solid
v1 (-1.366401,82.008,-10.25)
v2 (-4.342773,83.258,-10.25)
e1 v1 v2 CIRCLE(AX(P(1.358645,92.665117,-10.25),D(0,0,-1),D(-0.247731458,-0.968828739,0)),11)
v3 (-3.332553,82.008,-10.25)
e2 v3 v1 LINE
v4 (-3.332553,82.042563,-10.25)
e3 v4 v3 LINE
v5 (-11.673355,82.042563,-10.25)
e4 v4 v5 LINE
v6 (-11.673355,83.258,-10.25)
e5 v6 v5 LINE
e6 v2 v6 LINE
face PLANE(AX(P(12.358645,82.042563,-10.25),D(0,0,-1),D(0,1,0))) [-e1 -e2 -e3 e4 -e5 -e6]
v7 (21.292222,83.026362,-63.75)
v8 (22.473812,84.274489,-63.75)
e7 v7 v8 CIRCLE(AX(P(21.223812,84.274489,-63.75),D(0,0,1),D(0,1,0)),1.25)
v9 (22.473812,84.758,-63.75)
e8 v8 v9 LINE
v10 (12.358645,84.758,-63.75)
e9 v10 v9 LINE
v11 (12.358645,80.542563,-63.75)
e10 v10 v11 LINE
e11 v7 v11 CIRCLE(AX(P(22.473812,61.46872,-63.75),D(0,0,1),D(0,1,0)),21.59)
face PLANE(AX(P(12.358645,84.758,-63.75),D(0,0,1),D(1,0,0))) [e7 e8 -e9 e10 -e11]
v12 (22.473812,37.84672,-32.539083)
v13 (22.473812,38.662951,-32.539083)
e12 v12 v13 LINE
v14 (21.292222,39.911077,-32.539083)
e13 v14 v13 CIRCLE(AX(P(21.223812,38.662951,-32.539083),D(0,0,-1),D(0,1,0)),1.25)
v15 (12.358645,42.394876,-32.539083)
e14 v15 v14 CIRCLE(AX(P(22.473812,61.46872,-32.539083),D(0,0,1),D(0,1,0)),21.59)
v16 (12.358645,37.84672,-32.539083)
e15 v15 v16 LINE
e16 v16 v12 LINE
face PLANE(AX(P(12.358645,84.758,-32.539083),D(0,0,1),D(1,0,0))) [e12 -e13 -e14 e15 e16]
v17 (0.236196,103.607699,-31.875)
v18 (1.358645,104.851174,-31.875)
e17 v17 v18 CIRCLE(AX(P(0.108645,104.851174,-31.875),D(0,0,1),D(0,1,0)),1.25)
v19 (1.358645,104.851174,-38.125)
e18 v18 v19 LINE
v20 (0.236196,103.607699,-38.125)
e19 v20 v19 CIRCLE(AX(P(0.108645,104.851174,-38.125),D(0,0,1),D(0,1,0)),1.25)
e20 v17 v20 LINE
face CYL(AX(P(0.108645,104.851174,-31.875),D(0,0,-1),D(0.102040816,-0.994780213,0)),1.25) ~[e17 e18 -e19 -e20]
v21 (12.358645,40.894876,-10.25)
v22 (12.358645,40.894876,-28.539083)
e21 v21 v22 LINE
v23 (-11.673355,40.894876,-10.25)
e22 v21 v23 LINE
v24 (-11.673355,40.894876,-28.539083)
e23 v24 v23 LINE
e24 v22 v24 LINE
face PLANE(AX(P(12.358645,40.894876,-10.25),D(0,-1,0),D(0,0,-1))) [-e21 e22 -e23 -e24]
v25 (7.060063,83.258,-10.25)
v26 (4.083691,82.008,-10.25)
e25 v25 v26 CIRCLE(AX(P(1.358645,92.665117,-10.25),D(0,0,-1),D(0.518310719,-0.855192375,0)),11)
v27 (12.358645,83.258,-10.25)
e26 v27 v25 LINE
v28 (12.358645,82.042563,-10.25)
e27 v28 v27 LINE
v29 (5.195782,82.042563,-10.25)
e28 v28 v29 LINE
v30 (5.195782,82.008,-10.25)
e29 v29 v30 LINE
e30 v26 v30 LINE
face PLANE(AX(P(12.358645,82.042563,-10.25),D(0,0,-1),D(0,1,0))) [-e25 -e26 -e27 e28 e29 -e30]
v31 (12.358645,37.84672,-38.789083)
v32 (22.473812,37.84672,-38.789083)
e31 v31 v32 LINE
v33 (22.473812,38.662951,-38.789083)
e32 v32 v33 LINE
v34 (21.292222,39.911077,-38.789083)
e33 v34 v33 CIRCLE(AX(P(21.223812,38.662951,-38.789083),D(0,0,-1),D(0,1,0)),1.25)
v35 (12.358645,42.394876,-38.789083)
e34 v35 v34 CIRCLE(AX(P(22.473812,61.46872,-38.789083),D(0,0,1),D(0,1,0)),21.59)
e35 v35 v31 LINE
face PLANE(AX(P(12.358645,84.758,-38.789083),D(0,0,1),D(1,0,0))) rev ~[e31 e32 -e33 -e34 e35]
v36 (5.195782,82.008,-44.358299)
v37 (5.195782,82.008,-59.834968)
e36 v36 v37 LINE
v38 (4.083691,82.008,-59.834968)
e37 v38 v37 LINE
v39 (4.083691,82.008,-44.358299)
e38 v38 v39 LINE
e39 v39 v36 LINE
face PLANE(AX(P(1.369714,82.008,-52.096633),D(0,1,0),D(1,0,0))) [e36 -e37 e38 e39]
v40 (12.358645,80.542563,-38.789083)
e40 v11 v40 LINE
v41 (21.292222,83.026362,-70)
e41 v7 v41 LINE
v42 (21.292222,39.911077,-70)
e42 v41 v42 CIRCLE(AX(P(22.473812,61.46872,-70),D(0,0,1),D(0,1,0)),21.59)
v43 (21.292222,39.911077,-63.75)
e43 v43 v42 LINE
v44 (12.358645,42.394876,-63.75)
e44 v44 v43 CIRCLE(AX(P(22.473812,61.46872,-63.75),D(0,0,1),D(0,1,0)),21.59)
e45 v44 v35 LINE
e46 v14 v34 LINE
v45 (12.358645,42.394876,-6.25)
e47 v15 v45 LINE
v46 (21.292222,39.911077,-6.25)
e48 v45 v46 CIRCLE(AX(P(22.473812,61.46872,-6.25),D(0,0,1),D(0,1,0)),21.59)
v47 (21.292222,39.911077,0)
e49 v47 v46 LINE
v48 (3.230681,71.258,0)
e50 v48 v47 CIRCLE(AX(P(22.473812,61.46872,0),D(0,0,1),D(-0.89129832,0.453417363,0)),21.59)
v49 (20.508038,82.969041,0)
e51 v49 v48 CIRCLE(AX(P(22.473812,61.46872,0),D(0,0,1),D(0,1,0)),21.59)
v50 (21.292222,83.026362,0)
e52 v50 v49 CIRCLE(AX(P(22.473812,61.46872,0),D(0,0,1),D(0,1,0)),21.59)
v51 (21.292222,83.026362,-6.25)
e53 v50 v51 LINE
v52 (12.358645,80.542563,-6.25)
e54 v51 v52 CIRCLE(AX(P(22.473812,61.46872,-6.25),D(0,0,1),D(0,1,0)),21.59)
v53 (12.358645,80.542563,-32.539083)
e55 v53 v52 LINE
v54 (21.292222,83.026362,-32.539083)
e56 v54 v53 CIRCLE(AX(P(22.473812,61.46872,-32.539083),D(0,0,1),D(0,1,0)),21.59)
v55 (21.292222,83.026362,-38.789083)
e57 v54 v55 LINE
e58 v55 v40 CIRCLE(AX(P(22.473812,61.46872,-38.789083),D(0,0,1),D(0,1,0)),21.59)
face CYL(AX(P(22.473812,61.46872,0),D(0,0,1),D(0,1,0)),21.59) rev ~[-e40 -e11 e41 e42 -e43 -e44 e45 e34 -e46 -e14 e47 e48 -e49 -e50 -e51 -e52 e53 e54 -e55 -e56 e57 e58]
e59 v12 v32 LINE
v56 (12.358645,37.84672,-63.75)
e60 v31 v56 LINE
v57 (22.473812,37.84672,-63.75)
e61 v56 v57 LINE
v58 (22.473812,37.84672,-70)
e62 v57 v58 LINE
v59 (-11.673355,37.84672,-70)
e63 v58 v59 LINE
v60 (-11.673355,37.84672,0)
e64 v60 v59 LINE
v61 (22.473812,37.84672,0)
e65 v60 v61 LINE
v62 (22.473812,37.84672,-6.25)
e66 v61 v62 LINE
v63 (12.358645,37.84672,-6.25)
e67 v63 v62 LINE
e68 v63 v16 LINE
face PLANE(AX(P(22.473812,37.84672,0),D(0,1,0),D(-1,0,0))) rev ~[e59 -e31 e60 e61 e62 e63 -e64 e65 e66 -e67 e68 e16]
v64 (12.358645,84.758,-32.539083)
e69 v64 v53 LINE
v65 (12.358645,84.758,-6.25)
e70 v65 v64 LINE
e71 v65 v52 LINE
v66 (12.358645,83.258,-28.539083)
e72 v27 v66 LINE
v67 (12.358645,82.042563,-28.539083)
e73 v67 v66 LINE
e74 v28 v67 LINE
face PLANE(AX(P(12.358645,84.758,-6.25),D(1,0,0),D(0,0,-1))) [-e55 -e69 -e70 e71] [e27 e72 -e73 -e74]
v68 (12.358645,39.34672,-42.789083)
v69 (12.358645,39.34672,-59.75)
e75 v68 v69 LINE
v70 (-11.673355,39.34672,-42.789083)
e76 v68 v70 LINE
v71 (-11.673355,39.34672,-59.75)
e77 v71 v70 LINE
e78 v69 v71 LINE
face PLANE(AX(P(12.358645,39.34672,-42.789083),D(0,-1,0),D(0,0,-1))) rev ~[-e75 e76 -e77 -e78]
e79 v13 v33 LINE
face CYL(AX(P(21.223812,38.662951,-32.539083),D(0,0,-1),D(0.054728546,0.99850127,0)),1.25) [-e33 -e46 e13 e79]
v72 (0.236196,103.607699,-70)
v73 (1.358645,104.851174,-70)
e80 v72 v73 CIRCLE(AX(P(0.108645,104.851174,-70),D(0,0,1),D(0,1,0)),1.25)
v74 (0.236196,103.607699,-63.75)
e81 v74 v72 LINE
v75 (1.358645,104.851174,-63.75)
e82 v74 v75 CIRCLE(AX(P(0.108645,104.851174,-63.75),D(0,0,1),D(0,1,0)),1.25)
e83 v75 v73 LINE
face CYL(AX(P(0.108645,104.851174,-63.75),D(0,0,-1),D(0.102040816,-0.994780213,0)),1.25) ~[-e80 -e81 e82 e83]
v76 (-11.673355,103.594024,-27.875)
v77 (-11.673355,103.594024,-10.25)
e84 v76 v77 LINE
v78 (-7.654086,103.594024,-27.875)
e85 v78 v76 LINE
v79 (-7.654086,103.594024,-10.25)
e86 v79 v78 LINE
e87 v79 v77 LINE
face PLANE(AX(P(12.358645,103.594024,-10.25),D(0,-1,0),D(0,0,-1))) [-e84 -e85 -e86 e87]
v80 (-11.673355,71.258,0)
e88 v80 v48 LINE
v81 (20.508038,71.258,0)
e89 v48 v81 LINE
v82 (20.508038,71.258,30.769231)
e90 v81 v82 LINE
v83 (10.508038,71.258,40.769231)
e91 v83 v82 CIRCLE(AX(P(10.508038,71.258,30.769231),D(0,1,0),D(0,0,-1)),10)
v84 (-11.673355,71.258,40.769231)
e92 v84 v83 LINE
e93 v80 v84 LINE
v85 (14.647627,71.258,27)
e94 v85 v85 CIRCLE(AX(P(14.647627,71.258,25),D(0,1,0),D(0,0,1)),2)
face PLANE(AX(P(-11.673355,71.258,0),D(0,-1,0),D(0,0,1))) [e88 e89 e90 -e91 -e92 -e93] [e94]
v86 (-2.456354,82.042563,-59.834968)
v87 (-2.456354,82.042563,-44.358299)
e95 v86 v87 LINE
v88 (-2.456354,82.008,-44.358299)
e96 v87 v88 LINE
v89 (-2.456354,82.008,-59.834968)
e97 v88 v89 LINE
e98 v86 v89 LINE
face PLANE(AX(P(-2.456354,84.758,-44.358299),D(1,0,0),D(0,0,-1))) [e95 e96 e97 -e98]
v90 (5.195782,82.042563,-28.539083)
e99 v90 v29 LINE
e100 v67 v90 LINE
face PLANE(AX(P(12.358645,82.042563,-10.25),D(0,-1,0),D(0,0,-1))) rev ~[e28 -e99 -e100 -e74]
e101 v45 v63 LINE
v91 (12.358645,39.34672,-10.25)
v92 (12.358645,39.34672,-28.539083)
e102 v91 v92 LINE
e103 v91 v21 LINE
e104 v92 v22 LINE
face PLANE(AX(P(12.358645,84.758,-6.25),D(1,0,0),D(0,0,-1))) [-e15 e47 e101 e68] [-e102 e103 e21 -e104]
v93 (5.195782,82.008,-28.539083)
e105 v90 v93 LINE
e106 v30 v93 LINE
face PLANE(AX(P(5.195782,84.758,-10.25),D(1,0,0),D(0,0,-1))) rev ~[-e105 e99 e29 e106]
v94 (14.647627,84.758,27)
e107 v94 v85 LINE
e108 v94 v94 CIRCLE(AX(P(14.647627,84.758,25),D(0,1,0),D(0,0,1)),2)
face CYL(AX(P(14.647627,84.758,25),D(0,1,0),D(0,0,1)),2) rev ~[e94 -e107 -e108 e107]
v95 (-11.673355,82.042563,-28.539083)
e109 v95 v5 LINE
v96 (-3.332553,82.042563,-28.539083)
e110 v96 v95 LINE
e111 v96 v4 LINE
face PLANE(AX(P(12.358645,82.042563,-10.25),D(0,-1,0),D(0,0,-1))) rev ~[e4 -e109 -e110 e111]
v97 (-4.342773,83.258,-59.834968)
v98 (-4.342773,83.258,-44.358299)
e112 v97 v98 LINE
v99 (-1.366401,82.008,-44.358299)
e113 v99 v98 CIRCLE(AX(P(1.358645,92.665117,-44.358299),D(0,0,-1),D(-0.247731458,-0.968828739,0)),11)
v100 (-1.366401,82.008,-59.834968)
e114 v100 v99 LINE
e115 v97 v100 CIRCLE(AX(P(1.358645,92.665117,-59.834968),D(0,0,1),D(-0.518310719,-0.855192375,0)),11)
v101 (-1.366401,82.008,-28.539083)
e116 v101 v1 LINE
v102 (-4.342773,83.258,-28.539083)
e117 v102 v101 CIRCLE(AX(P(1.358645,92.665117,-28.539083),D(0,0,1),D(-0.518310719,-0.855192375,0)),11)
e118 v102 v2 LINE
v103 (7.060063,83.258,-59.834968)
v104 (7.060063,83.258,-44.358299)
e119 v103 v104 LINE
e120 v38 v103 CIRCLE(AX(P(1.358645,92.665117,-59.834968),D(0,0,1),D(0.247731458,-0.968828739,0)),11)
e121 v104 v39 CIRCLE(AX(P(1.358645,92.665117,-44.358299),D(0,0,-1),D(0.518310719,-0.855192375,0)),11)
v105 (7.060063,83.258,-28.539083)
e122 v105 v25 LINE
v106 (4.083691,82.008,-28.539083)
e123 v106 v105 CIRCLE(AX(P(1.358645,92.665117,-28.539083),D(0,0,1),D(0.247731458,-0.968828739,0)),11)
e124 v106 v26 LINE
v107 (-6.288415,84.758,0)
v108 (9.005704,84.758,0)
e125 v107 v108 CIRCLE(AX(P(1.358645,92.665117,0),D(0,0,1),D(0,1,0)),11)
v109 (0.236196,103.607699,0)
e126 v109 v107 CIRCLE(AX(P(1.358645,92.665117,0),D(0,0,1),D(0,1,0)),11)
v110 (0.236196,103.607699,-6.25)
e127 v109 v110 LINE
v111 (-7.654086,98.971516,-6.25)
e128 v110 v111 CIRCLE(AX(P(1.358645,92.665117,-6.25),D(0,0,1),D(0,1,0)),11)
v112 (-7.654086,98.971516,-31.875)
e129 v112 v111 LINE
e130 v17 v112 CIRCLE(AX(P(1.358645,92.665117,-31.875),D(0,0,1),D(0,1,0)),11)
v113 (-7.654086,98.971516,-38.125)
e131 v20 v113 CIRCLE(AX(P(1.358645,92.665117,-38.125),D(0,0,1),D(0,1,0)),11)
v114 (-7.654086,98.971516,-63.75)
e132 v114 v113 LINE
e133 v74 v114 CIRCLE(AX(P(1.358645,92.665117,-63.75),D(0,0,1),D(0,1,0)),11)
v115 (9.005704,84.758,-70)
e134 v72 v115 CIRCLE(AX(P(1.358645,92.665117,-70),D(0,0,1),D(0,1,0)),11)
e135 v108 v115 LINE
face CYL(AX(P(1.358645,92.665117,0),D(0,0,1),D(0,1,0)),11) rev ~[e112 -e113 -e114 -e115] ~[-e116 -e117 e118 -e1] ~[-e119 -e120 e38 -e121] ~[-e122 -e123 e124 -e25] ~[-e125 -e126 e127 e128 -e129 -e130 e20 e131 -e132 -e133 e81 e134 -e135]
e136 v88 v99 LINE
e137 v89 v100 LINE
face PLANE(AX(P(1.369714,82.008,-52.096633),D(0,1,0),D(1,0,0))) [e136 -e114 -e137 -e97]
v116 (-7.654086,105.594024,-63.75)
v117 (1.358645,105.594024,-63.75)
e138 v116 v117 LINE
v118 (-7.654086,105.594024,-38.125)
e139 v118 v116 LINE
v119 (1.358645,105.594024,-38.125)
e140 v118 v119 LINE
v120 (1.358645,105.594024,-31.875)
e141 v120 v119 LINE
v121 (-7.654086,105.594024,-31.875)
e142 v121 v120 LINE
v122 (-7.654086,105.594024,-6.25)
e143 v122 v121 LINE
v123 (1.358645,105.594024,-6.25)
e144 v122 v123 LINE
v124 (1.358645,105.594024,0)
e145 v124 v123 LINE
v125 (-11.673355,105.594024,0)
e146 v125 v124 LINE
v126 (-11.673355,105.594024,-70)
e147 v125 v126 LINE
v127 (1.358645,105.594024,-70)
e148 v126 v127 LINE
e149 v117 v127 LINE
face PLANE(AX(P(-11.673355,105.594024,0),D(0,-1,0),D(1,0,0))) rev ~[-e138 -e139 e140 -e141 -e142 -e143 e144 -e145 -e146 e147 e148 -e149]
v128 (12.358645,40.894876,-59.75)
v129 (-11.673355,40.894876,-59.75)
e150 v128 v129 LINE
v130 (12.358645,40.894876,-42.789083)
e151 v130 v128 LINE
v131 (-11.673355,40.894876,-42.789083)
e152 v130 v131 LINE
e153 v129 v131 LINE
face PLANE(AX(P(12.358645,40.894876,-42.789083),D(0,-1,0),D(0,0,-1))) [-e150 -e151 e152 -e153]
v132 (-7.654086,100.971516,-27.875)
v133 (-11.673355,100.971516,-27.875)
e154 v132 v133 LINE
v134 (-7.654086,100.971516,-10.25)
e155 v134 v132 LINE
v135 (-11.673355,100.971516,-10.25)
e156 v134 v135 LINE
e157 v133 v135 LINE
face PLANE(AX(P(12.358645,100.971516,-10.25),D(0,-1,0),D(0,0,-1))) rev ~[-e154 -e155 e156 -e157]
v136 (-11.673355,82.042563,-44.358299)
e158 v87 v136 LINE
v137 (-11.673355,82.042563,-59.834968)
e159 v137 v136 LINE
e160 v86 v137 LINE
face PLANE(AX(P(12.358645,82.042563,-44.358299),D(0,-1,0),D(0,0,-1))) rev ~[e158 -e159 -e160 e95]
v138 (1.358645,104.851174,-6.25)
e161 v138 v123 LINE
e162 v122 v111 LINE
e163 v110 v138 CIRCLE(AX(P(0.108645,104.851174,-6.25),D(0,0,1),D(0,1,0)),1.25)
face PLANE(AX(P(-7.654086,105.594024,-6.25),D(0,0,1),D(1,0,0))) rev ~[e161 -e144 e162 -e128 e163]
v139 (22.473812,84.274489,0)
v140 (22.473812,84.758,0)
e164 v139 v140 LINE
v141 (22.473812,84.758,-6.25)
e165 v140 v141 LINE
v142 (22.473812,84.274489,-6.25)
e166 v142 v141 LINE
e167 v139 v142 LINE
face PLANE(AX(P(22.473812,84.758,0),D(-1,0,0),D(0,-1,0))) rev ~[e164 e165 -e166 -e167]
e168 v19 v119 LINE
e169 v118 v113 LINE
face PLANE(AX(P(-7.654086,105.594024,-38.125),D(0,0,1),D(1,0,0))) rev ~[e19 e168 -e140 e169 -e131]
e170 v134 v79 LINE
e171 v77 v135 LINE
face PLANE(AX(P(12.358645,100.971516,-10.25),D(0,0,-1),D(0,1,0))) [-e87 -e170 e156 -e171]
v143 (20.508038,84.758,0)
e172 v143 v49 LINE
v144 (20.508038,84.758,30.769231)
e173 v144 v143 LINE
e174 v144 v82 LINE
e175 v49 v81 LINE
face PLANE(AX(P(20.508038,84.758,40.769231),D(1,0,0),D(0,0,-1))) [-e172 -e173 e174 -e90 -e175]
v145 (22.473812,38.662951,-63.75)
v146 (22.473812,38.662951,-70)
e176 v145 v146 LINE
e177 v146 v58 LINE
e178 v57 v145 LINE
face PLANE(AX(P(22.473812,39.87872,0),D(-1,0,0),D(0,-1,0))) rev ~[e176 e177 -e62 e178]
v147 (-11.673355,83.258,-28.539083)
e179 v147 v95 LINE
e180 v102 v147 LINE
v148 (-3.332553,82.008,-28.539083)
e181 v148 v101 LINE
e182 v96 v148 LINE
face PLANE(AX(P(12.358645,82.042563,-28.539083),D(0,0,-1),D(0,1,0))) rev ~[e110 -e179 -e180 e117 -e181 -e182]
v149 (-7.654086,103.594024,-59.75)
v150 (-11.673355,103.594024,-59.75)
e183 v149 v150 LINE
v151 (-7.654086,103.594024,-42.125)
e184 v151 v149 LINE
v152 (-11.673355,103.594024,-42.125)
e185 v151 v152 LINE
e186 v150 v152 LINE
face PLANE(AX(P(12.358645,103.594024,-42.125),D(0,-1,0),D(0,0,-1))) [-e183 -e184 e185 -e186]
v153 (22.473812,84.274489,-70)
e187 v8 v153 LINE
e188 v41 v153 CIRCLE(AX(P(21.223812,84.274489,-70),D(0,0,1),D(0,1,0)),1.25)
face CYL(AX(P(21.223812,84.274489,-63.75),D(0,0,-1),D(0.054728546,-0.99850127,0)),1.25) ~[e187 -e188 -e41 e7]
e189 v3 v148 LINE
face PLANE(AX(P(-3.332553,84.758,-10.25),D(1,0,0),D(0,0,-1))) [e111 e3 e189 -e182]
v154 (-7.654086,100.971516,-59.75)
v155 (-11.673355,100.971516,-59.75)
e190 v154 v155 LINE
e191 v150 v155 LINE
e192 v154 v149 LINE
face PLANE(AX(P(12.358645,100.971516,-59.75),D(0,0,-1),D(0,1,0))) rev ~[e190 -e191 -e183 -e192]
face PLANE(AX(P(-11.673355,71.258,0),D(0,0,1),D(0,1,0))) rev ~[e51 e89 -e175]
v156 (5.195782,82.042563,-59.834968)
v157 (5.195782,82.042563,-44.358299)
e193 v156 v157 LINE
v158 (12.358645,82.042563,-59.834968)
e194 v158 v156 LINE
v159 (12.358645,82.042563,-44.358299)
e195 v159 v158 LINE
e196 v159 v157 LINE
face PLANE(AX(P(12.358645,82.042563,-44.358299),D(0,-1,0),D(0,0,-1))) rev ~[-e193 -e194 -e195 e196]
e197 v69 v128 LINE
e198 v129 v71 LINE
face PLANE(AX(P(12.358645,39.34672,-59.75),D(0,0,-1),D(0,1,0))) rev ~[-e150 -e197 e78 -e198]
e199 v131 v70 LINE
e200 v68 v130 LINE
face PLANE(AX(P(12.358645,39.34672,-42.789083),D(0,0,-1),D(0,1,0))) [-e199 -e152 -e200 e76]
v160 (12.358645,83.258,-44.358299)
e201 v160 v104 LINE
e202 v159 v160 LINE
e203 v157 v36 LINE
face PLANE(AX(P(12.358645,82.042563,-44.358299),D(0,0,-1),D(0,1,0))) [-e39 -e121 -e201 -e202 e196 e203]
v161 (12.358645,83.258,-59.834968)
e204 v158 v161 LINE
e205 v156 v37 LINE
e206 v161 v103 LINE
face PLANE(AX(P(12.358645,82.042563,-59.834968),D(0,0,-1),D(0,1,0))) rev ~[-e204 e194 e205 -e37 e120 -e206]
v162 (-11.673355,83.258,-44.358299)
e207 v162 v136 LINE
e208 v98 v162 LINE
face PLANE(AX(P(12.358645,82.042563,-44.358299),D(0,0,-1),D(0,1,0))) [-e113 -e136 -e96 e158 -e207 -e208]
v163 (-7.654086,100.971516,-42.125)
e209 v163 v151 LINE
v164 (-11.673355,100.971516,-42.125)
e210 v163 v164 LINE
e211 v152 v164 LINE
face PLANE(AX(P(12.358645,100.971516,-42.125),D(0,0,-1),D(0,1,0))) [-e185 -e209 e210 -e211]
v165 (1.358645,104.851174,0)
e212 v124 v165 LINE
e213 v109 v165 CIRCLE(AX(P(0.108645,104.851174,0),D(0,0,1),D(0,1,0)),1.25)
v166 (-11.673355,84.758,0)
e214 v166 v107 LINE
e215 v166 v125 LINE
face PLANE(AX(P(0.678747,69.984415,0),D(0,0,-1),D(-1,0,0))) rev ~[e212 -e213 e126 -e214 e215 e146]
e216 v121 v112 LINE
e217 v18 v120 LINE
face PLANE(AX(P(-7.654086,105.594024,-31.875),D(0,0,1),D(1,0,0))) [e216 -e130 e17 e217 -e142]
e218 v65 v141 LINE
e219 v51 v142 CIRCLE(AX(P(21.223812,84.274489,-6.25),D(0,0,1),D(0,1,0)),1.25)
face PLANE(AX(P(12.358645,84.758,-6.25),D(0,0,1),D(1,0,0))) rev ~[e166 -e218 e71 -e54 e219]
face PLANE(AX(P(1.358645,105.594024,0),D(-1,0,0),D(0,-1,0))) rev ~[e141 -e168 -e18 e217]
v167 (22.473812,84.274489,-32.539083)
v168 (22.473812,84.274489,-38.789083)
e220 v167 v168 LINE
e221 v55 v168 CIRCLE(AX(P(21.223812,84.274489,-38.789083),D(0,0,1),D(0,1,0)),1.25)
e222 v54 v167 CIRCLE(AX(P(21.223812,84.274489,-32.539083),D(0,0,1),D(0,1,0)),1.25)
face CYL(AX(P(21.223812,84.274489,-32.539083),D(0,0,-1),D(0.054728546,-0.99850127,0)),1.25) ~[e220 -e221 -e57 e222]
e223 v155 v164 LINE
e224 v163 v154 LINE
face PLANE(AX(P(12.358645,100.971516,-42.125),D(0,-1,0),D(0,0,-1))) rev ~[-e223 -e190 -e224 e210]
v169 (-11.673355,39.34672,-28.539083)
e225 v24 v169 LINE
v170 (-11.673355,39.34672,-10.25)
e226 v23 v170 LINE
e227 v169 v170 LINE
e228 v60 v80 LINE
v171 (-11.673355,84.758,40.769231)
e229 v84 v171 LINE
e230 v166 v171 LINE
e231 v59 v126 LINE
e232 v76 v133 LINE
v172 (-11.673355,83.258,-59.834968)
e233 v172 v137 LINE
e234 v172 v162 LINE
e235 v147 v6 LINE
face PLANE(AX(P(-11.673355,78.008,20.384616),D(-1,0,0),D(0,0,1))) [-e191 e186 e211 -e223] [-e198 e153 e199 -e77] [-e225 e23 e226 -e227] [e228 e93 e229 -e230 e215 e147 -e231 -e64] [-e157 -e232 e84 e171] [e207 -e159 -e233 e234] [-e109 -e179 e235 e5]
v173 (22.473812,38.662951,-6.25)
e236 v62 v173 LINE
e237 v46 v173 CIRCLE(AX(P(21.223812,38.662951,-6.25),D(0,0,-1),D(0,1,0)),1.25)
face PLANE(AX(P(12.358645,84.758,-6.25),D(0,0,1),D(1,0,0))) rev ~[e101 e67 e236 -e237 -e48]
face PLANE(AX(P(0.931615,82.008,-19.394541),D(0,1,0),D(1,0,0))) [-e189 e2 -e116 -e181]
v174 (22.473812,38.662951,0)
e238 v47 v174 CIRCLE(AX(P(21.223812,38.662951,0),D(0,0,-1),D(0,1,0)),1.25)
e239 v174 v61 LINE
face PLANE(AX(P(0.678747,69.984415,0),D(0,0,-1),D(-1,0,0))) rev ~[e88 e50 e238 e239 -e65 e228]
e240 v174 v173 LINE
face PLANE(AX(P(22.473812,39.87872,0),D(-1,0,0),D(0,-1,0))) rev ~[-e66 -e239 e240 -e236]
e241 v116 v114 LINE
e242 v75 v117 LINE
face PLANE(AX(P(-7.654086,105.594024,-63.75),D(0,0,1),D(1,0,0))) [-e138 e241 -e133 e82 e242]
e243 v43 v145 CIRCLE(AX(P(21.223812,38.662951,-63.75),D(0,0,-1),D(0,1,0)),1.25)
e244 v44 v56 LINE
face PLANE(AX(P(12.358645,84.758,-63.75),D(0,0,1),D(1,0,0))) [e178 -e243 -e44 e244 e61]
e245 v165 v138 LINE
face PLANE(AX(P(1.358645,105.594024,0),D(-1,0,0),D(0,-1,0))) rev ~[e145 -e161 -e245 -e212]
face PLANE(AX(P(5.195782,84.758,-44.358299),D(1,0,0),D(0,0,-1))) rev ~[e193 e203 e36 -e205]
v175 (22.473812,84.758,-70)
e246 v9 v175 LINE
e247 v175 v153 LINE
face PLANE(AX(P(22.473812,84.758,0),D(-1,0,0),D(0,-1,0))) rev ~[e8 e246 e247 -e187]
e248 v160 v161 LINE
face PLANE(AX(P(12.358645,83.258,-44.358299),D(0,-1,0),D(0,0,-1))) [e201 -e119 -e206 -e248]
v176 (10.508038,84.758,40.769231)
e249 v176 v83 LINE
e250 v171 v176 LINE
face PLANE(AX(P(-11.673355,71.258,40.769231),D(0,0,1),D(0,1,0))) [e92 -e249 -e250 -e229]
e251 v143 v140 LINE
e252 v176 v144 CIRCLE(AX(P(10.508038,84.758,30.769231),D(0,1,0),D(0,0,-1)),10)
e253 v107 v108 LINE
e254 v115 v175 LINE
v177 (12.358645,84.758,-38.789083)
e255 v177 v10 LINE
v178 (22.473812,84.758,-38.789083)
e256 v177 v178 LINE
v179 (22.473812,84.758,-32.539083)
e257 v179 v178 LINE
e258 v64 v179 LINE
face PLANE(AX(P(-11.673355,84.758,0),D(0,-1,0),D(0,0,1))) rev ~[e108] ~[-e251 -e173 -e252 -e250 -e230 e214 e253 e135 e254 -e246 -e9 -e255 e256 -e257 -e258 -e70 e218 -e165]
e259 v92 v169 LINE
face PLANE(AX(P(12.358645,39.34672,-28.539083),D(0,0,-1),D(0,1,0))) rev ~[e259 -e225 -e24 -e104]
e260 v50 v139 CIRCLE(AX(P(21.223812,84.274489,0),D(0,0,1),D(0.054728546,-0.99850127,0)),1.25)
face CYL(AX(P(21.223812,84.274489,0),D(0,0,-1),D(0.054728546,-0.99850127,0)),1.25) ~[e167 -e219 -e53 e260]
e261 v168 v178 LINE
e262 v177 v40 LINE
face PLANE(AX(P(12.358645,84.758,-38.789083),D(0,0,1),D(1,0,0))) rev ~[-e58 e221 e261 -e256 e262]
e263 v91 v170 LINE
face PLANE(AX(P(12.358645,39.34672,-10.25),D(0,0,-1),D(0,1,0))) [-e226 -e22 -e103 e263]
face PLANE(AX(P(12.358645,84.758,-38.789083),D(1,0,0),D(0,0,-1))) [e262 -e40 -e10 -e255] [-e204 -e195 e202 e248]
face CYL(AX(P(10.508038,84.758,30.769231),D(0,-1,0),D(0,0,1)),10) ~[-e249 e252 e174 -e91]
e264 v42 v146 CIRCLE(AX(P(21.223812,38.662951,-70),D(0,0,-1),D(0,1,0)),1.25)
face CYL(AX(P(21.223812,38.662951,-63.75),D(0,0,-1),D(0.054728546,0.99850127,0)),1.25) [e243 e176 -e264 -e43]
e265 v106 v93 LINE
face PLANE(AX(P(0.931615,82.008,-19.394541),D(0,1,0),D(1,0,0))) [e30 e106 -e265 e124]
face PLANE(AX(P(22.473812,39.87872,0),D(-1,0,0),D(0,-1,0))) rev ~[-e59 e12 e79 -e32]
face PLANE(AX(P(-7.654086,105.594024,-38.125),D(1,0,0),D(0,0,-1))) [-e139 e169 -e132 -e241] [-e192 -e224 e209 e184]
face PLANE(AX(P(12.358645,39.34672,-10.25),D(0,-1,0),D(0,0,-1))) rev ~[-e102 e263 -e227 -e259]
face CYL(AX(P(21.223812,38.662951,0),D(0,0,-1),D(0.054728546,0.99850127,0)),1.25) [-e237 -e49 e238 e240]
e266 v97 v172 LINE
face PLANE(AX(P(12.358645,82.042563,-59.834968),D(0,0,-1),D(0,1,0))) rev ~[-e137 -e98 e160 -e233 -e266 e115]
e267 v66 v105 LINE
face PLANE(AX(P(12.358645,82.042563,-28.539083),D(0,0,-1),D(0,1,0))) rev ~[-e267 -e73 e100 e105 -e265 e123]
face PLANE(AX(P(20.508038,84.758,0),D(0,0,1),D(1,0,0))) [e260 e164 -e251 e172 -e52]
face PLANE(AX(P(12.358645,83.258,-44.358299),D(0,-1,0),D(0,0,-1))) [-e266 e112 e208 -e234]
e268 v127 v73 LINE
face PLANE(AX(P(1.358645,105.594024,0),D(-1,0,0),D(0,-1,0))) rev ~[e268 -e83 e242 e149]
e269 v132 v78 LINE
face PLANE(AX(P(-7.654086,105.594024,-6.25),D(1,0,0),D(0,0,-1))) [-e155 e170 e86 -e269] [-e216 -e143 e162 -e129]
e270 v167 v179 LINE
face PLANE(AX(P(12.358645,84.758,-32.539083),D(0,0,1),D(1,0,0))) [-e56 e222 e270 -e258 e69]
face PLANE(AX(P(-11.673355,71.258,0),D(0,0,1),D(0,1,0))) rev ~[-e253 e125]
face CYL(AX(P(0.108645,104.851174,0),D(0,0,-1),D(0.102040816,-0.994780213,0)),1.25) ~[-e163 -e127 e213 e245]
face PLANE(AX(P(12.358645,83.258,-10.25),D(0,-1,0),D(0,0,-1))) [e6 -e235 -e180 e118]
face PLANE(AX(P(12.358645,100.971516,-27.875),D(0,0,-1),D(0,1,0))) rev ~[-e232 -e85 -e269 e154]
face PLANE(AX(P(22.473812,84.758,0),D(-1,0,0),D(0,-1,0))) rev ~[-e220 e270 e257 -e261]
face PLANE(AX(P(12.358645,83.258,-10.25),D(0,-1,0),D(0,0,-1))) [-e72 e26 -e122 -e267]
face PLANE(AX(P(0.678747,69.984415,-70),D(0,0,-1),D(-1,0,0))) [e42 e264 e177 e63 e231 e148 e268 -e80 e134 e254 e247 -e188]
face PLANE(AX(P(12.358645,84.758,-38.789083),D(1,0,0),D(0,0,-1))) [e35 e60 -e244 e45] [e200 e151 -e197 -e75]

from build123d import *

# Parameters (mm, degrees)
BOSS_EXTRUDE1_DEPTH = 70
SKETCH2_W           = 30.127897987
SKETCH2_H           = 25.625
CUT_EXTRUDE1_DEPTH  = 10
SKETCH3_W           = 36.135462637
SKETCH3_H           = 24.960917338
SKETCH3_H_2         = 26.289082662
CUT_EXTRUDE2_DEPTH  = 88.210896549
SKETCH5_W           = 40.769231001
SKETCH5_H           = 13.5
BOSS_EXTRUDE2_DEPTH = 50
SKETCH6_R           = 2
CUT_EXTRUDE3_DEPTH  = 50
FILLET1_R           = 1.25
FILLET2_R           = 16
SKETCH7_W           = 19.805527333
SKETCH7_H           = 40.769231001
CUT_EXTRUDE4_DEPTH  = 93.57213387
FILLET3_R           = 10
SKETCH9_W           = 15.47666937
SKETCH9_H           = 1.215437552
SKETCH9_W_2         = 18.289082662
SKETCH9_W_3         = 17.625
SKETCH9_H_2         = 2.622507707
SKETCH9_W_4         = 16.960917338
SKETCH9_H_3         = 1.548156683
CUT_EXTRUDE5_DEPTH  = 129.948187004
SKETCH10_W          = 7.652135561
SKETCH10_H          = 15.47666937
SKETCH10_W_2        = 8.528334289
SKETCH10_H_2        = 18.289082662
CUT_EXTRUDE8_DEPTH  = 2.75


with BuildPart() as part:
    # Sketch1 → Boss-Extrude1 (new body)
    with BuildSketch(Plane.XY):
        with BuildLine():
            Line((22.473811518, 84.75800041), (22.473811518, 83.058719541))
            ThreePointArc((22.473811518, 83.058719541), (0.883811518, 61.468719541), (22.473811518, 39.878719541))
            Line((22.473811518, 39.878719541), (22.473811518, 37.846719541))
            Line((22.473811518, 37.846719541), (-11.673355367, 37.846719541))
            Line((-11.673355367, 37.846719541), (-11.673355367, 105.594024014))
            Line((-11.673355367, 105.594024014), (1.358644633, 105.594024014))
            Line((1.358644633, 105.594024014), (1.358644633, 103.665116534))
            ThreePointArc((1.358644633, 103.665116534), (-8.83886186, 88.540693991), (9.005703845, 84.75800041))
            Line((9.005703845, 84.75800041), (22.473811518, 84.75800041))
        make_face()
    extrude(amount=-BOSS_EXTRUDE1_DEPTH)

    # Sketch2 → Cut-Extrude1 (cut)
    with BuildSketch(Plane(origin=(0, 105.594024014, 0), x_dir=(1, 0, 0), z_dir=(0, 1, 0))):
        with Locations((7.409862525, 50.9375)):
            Rectangle(SKETCH2_W, SKETCH2_H)
        with Locations((7.409862525, 19.0625)):
            Rectangle(SKETCH2_W, SKETCH2_H)
    extrude(amount=-CUT_EXTRUDE1_DEPTH, mode=Mode.SUBTRACT)

    # Sketch3 → Cut-Extrude2 (cut, through all)
    with BuildSketch(Plane(origin=(0, 84.75800041, 0), x_dir=(1, 0, 0), z_dir=(0, 1, 0))):
        with Locations((30.426375951, 51.269541331)):
            Rectangle(SKETCH3_W, SKETCH3_H)
        with Locations((30.426375951, 19.394541331)):
            Rectangle(SKETCH3_W, SKETCH3_H_2)
    extrude(amount=-CUT_EXTRUDE2_DEPTH, mode=Mode.SUBTRACT)

    # Sketch5 → Boss-Extrude2 (add)
    with BuildSketch(Plane.ZY.offset(11.673355367)):
        with Locations((20.384615501, 78.00800041)):
            Rectangle(SKETCH5_W, SKETCH5_H)
    extrude(amount=-BOSS_EXTRUDE2_DEPTH)

    # Sketch6 → Cut-Extrude3 (cut)
    with BuildSketch(Plane(origin=(0, 84.75800041, 0), x_dir=(1, 0, 0), z_dir=(0, 1, 0))):
        with Locations(Location((14.647627353, -25, 0), (0, 0, 270))):
            Circle(SKETCH6_R)
        with Locations(Location((30.329421103, -25, 0), (0, 0, 270))):
            Circle(SKETCH6_R)
    extrude(amount=-CUT_EXTRUDE3_DEPTH, mode=Mode.SUBTRACT)

    # Fillet1
    fillet1_edges = [part.edges().sort_by_distance(p)[0] for p in [
        (1.358644633, 103.665116534, -66.875),
        (22.473811518, 83.058719541, -66.875),
        (22.473811518, 39.878719541, -66.875),
        (1.358644633, 103.665116534, -35),
        (1.358644633, 103.665116534, -3.125),
        (22.473811518, 39.878719541, -35.664082662),
        (22.473811518, 39.878719541, -3.125),
        (22.473811518, 83.058719541, -35.664082662),
        (22.473811518, 83.058719541, -3.125),
    ]]
    fillet(fillet1_edges, radius=FILLET1_R)

    # Fillet2
    fillet2_edges = [part.edges().sort_by_distance(p)[0] for p in [
        (38.326644633, 78.00800041, 0),
        (38.326644633, 78.00800041, 40.769231001),
    ]]
    fillet(fillet2_edges, radius=FILLET2_R)

    # Sketch7 → Cut-Extrude4 (cut, through all)
    with BuildSketch(Plane(origin=(0, 84.75800041, 0), x_dir=(1, 0, 0), z_dir=(0, 1, 0))):
        with Locations((30.410801799, -20.384615501)):
            Rectangle(SKETCH7_W, SKETCH7_H)
    extrude(amount=-CUT_EXTRUDE4_DEPTH, mode=Mode.SUBTRACT)

    # Fillet3
    fillet3_edges = [part.edges().sort_by_distance(p)[0] for p in [
        (20.508038132, 78.00800041, 40.769231001),
    ]]
    fillet(fillet3_edges, radius=FILLET3_R)

    # Sketch9 → Cut-Extrude5 (cut, through all)
    with BuildSketch(Plane(origin=(12.358644633, 0, 0), x_dir=(0, 0, -1), z_dir=(1, 0, 0))):
        with Locations((52.096633222, 82.650281634)):
            Rectangle(SKETCH9_W, SKETCH9_H)
        with Locations((19.394541331, 82.650281634)):
            Rectangle(SKETCH9_W_2, SKETCH9_H)
        with Locations((50.9375, 102.282770161)):
            Rectangle(SKETCH9_W_3, SKETCH9_H_2)
        with Locations((19.0625, 102.282770161)):
            Rectangle(SKETCH9_W_3, SKETCH9_H_2)
        with Locations((51.269541331, 40.120797882)):
            Rectangle(SKETCH9_W_4, SKETCH9_H_3)
        with Locations((19.394541331, 40.120797882)):
            Rectangle(SKETCH9_W_2, SKETCH9_H_3)
    extrude(amount=-CUT_EXTRUDE5_DEPTH, mode=Mode.SUBTRACT)

    # Sketch10 → Cut-Extrude8 (cut)
    with BuildSketch(Plane(origin=(0, 84.75800041, 0), x_dir=(1, 0, 0), z_dir=(0, 1, 0))):
        with Locations((1.369713925, 52.096633222)):
            Rectangle(SKETCH10_W, SKETCH10_H)
        with Locations((0.931614561, 19.394541331)):
            Rectangle(SKETCH10_W_2, SKETCH10_H_2)
    extrude(amount=-CUT_EXTRUDE8_DEPTH, mode=Mode.SUBTRACT)


solid = part.part
